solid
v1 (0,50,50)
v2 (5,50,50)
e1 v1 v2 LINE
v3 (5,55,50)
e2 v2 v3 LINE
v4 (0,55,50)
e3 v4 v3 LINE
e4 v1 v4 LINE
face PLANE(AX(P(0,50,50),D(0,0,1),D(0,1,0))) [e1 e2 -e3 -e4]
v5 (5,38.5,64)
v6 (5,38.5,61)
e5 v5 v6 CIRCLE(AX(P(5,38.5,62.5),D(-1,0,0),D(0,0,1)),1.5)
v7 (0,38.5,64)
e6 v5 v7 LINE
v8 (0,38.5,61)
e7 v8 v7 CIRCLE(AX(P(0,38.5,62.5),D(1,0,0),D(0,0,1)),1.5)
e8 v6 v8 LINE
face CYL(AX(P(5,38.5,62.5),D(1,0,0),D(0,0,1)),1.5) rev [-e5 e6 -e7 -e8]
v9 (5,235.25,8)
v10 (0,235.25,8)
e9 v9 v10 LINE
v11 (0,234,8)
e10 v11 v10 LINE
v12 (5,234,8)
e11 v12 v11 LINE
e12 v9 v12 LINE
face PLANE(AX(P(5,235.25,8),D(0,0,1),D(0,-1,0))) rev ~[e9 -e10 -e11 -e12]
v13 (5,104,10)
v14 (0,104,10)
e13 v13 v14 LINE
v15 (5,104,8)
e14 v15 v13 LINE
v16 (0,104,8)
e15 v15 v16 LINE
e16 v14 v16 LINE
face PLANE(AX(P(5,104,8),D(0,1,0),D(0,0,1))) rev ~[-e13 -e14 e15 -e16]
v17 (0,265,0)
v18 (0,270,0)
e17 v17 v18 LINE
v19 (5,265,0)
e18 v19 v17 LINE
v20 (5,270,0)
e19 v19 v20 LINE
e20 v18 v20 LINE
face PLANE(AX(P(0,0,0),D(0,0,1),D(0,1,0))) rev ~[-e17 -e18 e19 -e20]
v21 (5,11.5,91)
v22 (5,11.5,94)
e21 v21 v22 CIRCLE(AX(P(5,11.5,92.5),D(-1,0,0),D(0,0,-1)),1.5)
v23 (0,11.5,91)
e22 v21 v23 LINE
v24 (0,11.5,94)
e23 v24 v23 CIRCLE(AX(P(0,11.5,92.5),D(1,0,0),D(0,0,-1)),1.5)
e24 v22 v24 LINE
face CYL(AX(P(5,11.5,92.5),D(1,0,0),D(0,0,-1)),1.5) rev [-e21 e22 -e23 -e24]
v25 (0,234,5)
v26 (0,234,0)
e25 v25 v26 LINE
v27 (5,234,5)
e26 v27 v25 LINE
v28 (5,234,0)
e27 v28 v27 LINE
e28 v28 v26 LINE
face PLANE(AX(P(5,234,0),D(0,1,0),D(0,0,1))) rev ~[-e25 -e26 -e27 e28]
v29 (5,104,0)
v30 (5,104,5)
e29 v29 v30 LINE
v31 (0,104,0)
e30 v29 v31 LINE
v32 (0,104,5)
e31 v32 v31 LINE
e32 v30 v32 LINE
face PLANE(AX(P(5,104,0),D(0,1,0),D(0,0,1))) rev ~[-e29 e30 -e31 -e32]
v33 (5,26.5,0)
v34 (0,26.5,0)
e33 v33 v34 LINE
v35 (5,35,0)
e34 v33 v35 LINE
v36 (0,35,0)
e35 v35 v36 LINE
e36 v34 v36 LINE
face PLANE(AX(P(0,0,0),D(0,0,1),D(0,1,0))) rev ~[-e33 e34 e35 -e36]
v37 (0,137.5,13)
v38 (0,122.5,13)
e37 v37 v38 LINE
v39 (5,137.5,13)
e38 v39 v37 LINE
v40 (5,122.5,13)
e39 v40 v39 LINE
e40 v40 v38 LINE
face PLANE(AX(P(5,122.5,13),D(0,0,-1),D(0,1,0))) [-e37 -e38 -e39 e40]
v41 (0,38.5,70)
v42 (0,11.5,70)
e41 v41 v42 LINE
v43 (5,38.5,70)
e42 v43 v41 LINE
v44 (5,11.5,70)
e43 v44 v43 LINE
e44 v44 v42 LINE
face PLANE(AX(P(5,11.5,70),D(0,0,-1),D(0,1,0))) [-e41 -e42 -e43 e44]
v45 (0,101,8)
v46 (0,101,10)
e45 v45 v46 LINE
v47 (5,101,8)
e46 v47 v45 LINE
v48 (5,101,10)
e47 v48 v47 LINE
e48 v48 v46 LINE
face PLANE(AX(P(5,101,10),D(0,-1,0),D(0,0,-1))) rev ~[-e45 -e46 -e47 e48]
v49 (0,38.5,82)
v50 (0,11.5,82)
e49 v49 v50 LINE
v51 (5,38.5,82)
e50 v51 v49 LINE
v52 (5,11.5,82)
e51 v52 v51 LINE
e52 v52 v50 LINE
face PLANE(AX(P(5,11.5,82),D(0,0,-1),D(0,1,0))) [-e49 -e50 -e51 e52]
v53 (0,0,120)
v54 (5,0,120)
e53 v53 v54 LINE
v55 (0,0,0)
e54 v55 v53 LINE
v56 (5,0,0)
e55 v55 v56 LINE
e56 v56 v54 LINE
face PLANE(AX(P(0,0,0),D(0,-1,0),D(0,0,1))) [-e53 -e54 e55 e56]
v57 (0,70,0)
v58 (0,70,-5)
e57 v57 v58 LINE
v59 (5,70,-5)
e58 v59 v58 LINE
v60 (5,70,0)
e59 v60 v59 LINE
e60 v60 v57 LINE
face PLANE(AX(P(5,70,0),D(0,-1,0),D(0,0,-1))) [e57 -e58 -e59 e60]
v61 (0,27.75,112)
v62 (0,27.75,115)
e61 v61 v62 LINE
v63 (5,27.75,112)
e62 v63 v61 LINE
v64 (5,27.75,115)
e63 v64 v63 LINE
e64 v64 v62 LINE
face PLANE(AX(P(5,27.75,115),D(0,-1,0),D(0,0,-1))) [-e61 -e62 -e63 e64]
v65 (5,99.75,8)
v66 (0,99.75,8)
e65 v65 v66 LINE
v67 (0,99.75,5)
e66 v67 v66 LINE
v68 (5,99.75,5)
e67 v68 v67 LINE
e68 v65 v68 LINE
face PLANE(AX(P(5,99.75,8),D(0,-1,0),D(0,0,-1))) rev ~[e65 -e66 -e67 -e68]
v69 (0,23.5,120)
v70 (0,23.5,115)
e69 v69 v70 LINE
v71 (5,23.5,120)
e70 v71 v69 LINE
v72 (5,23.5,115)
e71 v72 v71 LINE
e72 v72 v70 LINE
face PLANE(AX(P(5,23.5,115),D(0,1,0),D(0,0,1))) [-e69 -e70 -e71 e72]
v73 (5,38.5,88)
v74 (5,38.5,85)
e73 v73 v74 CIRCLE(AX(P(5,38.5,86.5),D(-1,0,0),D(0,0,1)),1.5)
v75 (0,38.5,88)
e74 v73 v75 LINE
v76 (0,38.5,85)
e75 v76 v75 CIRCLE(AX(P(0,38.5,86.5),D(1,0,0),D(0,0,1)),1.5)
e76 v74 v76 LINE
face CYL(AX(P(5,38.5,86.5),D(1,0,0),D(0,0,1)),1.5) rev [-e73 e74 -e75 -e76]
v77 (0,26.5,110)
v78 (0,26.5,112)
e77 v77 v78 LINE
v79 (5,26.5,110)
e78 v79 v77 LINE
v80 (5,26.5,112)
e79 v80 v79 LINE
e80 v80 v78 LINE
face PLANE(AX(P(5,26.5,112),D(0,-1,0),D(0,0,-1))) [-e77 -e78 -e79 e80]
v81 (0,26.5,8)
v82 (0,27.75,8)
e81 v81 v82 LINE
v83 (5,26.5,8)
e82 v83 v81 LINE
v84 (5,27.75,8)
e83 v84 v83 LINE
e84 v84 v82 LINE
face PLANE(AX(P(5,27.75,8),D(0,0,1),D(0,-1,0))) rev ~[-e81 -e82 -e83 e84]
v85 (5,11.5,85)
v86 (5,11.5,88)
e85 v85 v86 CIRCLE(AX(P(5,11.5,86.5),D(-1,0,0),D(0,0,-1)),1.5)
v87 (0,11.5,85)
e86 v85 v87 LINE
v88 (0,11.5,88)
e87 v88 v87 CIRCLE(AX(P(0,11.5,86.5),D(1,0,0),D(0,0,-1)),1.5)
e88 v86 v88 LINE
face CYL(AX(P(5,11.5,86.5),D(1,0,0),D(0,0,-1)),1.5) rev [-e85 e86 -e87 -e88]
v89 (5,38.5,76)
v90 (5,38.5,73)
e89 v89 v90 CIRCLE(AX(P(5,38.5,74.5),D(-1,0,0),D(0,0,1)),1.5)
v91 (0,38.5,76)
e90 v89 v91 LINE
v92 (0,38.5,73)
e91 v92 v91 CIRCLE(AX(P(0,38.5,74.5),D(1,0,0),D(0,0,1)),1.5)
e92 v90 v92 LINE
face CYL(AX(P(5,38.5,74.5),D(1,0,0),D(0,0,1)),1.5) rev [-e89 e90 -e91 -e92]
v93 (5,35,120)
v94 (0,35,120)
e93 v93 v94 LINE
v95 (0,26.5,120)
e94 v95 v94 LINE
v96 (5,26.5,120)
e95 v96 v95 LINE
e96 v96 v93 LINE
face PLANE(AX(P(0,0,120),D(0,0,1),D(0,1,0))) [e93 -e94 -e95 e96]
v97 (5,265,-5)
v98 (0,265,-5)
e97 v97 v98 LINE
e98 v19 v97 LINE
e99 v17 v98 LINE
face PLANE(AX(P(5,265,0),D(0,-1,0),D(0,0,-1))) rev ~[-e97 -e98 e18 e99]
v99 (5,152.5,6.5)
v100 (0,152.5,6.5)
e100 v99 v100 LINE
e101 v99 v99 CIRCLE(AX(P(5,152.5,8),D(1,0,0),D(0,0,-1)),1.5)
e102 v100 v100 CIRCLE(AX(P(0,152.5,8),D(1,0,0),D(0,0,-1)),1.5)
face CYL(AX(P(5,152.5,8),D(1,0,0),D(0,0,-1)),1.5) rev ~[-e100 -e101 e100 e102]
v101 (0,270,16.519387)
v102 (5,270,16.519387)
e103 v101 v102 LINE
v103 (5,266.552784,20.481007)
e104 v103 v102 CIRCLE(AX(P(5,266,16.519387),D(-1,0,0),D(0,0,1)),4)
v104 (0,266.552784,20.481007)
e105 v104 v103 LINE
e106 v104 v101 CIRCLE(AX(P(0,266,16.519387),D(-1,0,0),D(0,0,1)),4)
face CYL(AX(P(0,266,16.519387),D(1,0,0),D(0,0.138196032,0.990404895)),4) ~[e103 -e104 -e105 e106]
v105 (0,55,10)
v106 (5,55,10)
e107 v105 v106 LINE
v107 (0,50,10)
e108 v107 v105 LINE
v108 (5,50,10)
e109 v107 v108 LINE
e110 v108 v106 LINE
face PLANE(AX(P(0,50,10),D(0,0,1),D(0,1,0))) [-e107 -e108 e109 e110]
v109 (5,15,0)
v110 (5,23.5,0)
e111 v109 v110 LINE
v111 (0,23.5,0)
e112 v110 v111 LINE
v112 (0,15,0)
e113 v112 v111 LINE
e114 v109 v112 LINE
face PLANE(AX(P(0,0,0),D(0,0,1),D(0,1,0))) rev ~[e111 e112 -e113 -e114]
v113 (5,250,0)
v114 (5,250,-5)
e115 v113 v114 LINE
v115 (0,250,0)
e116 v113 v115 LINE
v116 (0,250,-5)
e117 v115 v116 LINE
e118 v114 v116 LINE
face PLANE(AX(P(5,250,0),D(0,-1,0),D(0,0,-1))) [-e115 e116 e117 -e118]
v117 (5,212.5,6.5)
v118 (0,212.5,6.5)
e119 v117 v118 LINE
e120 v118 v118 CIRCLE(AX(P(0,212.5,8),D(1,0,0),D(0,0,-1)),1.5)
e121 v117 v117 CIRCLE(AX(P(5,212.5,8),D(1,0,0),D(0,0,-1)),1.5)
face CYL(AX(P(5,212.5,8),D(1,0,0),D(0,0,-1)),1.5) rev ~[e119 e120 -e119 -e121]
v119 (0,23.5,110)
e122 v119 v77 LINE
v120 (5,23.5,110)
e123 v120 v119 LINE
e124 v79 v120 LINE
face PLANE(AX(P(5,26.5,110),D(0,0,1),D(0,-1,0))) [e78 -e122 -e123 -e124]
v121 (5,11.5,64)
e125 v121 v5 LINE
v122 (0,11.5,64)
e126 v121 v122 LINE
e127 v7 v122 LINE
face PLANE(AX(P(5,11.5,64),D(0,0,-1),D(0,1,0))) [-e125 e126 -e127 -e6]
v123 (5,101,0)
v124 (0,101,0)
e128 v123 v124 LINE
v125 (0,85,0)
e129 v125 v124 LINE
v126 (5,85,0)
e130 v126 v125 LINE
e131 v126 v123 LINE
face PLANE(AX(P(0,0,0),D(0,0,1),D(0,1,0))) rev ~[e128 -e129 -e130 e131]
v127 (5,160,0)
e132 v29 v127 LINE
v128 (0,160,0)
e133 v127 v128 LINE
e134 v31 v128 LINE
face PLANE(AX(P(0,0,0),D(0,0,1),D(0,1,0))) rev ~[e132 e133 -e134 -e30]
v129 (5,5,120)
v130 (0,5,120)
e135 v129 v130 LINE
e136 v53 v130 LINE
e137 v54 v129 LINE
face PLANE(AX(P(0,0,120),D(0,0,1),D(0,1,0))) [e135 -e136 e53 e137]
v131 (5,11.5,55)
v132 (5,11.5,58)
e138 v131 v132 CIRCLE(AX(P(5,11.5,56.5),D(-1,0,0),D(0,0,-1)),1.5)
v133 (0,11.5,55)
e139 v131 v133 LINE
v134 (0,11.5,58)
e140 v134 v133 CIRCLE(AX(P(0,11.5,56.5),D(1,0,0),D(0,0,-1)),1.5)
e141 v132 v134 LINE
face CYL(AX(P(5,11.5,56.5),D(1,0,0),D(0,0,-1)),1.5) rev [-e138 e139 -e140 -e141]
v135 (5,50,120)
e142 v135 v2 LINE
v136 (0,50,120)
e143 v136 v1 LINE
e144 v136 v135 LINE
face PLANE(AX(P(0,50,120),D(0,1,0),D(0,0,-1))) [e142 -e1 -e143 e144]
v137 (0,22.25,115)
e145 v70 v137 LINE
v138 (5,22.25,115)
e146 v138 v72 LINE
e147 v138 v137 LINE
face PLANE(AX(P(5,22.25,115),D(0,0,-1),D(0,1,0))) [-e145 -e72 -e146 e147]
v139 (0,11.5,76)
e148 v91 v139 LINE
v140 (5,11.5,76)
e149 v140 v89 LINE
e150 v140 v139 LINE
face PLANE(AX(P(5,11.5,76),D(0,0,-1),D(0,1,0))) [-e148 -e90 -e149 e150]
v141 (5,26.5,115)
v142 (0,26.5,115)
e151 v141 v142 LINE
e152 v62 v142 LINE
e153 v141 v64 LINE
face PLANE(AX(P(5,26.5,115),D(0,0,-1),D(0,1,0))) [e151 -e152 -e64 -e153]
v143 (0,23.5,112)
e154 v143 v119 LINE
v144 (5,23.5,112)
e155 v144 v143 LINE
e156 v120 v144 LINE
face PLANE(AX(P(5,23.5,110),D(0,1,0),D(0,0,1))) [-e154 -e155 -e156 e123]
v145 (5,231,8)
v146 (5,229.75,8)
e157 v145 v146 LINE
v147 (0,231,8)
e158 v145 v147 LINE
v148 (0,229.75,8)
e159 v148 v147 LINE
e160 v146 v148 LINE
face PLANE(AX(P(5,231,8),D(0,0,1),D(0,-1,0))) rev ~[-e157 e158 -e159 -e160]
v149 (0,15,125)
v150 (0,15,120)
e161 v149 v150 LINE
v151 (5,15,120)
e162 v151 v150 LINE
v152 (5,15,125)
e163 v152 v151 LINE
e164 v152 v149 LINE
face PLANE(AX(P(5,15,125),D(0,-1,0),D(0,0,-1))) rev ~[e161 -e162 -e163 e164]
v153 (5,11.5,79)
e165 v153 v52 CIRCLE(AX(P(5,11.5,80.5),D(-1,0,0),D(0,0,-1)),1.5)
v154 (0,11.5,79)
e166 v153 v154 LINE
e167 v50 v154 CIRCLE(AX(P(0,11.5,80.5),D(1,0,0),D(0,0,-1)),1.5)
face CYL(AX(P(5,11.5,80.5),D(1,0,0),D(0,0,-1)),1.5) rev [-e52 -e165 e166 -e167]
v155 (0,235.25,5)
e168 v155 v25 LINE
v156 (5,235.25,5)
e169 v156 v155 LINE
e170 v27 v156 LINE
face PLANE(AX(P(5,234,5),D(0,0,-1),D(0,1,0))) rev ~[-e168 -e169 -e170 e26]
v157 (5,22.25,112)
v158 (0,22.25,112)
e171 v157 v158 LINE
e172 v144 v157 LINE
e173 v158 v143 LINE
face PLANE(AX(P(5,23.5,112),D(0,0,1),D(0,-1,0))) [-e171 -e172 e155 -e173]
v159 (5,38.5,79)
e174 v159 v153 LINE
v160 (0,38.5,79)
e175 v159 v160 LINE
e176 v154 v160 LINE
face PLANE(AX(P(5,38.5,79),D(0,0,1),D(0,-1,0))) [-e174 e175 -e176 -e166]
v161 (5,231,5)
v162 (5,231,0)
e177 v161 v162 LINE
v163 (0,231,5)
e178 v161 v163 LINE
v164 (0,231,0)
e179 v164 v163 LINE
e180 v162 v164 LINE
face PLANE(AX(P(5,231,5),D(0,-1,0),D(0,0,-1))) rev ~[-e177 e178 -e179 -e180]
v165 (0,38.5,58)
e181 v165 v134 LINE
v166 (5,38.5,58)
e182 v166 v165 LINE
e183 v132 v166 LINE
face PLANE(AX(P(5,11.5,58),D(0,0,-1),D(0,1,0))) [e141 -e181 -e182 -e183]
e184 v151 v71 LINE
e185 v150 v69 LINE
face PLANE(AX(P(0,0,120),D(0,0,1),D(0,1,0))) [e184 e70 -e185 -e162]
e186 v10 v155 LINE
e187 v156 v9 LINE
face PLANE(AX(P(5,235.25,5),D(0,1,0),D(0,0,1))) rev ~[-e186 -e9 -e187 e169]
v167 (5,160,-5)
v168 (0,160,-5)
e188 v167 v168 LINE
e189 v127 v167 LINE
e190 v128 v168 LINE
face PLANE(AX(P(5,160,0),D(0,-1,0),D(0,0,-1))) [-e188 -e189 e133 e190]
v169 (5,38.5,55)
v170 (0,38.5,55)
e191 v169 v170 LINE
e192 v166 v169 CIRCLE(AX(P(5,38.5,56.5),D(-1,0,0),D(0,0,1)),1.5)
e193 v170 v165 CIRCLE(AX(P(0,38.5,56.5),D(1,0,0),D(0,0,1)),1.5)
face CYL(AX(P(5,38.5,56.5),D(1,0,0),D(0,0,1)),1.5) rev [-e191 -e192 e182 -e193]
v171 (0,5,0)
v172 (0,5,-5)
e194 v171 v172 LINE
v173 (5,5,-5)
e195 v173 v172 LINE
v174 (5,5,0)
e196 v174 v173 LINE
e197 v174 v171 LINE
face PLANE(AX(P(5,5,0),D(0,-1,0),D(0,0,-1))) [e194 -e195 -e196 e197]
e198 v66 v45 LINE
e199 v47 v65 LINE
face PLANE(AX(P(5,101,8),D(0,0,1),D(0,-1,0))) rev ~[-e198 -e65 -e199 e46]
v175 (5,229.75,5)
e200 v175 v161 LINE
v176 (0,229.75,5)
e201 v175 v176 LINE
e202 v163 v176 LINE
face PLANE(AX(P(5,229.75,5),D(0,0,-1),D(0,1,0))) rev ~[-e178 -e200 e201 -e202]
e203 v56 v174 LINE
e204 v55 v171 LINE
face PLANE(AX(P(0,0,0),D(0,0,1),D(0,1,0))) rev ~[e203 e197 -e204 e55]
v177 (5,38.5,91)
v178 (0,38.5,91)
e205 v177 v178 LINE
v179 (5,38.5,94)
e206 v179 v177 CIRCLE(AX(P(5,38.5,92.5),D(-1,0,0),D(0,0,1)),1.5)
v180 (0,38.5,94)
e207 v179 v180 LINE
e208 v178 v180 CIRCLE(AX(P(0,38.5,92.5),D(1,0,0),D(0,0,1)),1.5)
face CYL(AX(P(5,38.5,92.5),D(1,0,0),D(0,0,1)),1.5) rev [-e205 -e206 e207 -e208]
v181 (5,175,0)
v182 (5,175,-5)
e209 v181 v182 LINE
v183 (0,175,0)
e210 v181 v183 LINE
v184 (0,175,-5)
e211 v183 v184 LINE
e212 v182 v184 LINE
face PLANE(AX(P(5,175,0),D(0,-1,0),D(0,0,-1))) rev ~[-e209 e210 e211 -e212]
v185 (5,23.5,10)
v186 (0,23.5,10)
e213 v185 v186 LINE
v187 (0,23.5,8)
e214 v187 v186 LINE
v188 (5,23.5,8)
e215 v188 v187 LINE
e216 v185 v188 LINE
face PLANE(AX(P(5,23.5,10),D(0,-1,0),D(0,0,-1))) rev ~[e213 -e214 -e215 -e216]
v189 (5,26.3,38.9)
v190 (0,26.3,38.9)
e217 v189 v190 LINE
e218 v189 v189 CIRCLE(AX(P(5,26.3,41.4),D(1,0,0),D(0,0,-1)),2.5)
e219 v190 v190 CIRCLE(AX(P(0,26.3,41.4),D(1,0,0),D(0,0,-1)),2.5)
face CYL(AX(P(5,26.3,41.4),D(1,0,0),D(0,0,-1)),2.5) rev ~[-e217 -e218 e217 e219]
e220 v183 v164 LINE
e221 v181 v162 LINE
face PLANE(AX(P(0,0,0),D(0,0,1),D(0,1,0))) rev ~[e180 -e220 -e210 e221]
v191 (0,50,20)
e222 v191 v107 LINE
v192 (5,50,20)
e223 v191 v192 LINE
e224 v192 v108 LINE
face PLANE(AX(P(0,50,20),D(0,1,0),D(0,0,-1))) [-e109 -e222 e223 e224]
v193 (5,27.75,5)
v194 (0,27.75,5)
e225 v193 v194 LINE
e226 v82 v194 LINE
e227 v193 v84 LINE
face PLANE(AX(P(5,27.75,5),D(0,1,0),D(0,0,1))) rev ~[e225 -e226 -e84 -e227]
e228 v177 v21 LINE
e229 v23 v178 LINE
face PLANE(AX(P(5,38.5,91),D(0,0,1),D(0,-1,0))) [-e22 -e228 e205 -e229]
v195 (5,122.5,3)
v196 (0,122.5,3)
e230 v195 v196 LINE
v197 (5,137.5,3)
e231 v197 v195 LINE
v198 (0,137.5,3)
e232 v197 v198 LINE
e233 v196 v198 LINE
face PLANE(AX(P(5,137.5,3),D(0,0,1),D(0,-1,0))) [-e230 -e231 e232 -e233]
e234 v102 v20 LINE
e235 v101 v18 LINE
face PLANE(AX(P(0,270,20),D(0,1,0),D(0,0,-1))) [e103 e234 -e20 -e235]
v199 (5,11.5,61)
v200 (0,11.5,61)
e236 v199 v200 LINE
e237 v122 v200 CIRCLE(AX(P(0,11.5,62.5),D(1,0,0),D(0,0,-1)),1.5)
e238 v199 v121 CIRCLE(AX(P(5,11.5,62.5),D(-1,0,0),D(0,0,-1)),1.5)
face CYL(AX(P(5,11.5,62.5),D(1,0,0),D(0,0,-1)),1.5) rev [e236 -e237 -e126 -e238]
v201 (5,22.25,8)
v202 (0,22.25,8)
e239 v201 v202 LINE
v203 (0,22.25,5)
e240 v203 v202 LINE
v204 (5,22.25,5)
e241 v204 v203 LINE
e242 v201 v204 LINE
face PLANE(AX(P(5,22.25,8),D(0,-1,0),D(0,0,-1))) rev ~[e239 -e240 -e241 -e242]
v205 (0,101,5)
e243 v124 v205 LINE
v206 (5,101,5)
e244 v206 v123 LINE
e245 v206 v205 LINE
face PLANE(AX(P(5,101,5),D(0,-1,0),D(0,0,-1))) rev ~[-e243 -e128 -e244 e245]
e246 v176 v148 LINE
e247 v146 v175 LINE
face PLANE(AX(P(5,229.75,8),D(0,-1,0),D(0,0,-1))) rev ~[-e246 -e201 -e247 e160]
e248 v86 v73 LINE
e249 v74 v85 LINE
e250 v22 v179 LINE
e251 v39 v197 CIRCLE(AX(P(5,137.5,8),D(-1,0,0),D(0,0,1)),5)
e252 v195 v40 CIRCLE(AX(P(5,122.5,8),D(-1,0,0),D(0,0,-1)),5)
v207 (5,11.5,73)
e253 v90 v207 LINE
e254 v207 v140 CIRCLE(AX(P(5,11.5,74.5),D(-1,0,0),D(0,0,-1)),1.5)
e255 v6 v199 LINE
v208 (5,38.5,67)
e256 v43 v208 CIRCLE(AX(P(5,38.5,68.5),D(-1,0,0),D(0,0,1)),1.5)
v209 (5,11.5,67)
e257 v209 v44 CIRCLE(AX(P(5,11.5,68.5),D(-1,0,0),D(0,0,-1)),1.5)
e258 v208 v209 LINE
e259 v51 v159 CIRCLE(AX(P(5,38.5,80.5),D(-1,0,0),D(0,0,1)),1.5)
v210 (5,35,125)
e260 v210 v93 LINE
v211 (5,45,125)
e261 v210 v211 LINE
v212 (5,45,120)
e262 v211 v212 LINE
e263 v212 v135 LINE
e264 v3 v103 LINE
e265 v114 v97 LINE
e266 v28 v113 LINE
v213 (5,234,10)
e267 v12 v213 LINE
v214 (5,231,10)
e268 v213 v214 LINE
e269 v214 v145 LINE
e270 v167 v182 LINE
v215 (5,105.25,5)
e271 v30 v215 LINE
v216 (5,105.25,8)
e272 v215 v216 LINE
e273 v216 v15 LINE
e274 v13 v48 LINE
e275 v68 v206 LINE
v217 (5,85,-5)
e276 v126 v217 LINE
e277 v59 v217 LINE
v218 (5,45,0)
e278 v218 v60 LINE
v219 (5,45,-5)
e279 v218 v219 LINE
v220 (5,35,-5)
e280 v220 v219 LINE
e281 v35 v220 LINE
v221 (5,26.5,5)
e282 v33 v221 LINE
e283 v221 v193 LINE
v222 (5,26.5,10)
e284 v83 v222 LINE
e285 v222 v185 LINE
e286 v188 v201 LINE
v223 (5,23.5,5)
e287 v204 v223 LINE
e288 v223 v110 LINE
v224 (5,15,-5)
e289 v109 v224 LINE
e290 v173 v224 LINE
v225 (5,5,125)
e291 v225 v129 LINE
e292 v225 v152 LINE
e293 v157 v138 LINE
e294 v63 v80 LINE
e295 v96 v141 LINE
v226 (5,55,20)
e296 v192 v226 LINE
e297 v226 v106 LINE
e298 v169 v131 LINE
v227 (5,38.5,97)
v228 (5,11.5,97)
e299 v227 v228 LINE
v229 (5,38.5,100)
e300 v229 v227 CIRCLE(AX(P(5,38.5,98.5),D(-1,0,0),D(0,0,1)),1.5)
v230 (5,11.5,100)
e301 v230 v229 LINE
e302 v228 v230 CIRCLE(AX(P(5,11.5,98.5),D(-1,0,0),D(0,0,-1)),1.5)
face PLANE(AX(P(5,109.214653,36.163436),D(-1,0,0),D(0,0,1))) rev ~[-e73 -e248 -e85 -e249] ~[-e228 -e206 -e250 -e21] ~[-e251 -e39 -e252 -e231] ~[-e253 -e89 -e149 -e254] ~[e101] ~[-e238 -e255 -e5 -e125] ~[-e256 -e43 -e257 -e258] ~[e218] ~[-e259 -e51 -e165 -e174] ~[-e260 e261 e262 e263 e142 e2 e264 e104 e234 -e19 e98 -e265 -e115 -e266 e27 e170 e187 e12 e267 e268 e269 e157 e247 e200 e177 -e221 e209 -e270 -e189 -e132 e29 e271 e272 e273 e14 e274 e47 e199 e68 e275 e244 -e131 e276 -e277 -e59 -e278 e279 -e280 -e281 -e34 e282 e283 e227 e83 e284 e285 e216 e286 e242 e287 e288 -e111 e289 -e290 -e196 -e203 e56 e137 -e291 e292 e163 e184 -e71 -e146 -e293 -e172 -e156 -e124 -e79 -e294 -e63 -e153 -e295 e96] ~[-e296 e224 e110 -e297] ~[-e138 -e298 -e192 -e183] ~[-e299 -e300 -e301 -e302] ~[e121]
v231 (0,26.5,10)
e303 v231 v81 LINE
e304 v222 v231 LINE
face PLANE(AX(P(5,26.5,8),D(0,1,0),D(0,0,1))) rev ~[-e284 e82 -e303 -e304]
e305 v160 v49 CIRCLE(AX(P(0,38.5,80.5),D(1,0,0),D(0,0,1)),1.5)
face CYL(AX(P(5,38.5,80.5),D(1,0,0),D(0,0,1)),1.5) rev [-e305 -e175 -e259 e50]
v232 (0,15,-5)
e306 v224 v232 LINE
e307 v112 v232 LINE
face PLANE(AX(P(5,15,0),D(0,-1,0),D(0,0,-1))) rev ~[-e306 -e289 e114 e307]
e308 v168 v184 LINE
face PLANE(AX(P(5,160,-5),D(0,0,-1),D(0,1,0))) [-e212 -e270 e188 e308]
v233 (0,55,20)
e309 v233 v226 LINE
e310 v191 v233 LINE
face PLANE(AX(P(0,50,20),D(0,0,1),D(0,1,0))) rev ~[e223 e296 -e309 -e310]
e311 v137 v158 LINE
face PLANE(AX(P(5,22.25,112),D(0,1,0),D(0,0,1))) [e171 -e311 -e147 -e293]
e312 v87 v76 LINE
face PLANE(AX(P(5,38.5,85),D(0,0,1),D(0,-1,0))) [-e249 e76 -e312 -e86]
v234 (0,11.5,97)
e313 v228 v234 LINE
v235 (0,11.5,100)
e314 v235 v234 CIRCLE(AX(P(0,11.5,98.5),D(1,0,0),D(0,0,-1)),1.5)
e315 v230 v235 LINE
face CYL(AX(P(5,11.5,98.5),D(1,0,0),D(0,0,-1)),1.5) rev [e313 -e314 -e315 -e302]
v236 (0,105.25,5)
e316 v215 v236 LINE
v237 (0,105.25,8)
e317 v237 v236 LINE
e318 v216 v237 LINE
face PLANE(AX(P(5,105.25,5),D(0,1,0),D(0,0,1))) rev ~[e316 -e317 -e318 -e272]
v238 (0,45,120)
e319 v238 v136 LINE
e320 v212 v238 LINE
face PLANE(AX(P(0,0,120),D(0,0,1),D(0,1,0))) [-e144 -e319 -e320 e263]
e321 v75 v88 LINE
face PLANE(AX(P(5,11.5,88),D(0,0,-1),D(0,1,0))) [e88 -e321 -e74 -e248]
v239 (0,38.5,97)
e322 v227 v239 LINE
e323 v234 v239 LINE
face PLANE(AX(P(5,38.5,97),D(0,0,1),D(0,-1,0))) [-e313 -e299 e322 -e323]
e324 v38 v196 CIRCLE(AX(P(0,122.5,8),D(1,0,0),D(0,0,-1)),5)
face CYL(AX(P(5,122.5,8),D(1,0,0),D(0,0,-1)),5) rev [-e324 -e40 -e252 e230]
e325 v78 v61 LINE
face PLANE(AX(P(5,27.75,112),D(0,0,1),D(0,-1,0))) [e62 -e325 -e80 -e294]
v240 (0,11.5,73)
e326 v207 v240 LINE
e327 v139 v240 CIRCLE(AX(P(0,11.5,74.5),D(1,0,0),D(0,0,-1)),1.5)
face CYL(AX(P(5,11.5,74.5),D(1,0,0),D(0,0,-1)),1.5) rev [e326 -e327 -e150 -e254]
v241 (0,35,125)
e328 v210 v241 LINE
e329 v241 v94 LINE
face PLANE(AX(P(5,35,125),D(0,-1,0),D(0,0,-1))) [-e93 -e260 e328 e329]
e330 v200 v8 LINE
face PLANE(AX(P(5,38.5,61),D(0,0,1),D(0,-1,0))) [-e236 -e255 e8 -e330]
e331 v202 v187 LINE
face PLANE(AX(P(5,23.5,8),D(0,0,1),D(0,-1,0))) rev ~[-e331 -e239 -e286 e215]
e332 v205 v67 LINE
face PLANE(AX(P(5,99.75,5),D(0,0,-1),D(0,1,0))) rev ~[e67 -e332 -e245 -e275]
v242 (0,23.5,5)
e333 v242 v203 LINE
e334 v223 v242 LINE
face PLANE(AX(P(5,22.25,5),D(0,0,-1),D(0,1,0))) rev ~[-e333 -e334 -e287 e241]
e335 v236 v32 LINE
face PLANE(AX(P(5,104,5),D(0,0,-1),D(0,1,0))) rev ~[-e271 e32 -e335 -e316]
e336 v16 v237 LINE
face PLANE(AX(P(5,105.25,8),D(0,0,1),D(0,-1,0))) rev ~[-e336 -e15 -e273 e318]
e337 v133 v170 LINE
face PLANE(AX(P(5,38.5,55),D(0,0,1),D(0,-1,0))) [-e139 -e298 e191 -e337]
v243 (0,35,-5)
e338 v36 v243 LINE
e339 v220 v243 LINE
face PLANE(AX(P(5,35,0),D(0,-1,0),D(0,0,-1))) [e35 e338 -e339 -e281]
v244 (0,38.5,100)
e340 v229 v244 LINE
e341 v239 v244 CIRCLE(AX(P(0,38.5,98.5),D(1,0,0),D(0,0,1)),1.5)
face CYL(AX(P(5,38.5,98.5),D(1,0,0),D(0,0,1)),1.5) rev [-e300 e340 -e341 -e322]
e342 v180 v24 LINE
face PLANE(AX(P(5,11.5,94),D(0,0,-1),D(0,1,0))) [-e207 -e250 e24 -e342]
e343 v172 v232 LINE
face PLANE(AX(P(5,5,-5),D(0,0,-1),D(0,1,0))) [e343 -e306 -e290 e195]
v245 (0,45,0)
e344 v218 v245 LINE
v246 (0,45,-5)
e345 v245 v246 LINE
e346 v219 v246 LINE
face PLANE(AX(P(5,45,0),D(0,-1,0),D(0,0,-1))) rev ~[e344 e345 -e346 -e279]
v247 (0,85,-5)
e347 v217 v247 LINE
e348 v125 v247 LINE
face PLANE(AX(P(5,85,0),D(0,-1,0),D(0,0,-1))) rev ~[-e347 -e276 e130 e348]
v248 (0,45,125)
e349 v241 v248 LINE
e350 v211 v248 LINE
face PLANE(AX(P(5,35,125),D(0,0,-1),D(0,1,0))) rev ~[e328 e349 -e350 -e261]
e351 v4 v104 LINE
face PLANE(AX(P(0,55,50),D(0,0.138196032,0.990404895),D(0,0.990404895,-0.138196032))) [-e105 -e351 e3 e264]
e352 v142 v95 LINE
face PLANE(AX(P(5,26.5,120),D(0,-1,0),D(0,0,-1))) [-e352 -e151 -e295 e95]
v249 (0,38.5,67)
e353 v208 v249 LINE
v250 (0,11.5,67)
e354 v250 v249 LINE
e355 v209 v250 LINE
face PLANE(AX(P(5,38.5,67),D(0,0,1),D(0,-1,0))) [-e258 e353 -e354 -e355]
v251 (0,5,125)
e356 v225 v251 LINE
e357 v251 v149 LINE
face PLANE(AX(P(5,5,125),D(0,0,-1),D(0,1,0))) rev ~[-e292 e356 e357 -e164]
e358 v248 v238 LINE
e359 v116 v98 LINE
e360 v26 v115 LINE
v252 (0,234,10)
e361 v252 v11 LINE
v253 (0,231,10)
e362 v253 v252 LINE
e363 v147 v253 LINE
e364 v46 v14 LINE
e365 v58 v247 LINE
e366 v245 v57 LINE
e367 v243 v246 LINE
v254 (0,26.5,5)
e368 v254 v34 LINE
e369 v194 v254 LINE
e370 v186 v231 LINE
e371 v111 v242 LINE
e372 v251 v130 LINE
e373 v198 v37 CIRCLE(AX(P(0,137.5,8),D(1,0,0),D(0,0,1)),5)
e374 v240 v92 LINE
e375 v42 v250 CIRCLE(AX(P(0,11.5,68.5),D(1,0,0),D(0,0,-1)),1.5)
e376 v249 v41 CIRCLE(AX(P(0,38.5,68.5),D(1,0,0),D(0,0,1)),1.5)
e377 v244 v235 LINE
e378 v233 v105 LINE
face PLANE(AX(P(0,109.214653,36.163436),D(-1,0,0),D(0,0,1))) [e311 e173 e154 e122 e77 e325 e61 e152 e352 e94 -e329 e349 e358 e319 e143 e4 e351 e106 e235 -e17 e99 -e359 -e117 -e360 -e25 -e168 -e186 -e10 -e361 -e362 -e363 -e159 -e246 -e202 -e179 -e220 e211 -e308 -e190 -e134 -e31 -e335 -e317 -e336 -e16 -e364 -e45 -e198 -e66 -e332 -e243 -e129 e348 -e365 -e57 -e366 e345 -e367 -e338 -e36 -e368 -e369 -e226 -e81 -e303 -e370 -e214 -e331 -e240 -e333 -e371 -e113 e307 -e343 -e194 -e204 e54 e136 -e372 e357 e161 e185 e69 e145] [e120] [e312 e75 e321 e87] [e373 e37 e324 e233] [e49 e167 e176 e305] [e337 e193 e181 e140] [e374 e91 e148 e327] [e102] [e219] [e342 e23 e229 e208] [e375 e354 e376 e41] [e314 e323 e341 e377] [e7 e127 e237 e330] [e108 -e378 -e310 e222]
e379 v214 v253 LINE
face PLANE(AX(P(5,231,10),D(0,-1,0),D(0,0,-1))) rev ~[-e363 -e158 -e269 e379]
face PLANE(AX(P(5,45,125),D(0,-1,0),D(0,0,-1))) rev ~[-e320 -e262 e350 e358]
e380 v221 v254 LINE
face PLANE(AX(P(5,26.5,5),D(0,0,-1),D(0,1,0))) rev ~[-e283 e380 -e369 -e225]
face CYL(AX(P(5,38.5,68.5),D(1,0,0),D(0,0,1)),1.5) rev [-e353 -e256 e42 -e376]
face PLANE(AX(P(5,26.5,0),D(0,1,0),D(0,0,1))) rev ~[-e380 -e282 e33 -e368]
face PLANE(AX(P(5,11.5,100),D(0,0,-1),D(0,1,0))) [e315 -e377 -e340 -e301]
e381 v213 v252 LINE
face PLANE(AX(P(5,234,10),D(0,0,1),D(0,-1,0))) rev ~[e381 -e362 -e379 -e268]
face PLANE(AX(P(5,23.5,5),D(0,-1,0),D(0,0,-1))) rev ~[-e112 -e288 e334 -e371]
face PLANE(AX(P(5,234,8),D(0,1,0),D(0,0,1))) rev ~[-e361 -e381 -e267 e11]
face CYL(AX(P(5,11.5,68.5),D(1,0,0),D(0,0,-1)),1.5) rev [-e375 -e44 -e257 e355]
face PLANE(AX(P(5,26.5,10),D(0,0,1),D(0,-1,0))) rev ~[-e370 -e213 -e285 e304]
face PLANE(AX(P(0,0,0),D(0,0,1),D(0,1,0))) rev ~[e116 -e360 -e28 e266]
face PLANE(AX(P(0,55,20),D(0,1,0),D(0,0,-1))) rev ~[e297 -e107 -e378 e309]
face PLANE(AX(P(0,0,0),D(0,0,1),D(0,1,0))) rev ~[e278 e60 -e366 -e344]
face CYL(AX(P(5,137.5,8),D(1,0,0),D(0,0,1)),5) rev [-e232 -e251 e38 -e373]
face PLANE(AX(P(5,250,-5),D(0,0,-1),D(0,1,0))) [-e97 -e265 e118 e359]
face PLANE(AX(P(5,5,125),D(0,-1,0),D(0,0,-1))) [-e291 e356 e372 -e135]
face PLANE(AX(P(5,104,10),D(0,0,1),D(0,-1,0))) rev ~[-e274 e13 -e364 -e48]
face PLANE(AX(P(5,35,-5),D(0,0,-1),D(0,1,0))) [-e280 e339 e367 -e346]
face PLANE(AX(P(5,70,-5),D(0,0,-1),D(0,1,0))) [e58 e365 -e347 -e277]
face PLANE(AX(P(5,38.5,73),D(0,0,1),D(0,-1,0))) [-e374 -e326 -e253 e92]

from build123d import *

# Parameters (mm, degrees)
SKETCH1_W           = 10
SKETCH1_H           = 5
BOSS_EXTRUDE1_DEPTH = 5
SKETCH2_W           = 5
SKETCH2_H           = 10
SKETCH2_H_2         = 15
BOSS_EXTRUDE2_DEPTH = 5
SKETCH3_R           = 2.5
SKETCH3_R_2         = 1.5
CUT_EXTRUDE1_DEPTH  = 298.573520327
CUT_EXTRUDE2_DEPTH  = 298.573520327
FILLET1_R           = 4


with BuildPart() as part:
    # Sketch1 → Boss-Extrude1 (new body)
    with BuildSketch(Plane(origin=(0, 0, 0), x_dir=(0, 0, -1), z_dir=(1, 0, 0))):
        Polygon((-50, 50), (-50, 55), (-20, 270), (0, 270), (0, 55), (0, 50), (0, 0), (-120, 0), (-120, 50), align=None)
        with Locations((-15, 52.5)):
            Rectangle(SKETCH1_W, SKETCH1_H, mode=Mode.SUBTRACT)
    extrude(amount=BOSS_EXTRUDE1_DEPTH)

    # Sketch2 → Boss-Extrude2 (add)
    with BuildSketch(Plane(origin=(5, 0, 0), x_dir=(0, 0, -1), z_dir=(1, 0, 0))):
        with Locations((-122.5, 10)):
            Rectangle(SKETCH2_W, SKETCH2_H)
        with Locations((-122.5, 40)):
            Rectangle(SKETCH2_W, SKETCH2_H)
        with Locations((2.5, 257.5)):
            Rectangle(SKETCH2_W, SKETCH2_H_2)
        with Locations((2.5, 77.5)):
            Rectangle(SKETCH2_W, SKETCH2_H_2)
        with Locations((2.5, 40)):
            Rectangle(SKETCH2_W, SKETCH2_H)
        with Locations((2.5, 10)):
            Rectangle(SKETCH2_W, SKETCH2_H)
        with Locations((2.5, 167.5)):
            Rectangle(SKETCH2_W, SKETCH2_H_2)
    extrude(amount=-BOSS_EXTRUDE2_DEPTH)

    # Sketch3 → Cut-Extrude1 (cut, through all)
    with BuildSketch(Plane(origin=(5, 0, 0), x_dir=(0, 0, -1), z_dir=(1, 0, 0))):
        with Locations((-41.4, 26.3)):
            Circle(SKETCH3_R)
        with Locations((-8, 212.5)):
            Circle(SKETCH3_R_2)
        with Locations((-8, 152.5)):
            Circle(SKETCH3_R_2)
        Polygon((0, 26.5), (-5, 26.5), (-5, 27.75), (-8, 27.75), (-8, 26.5), (-10, 26.5), (-10, 23.5), (-8, 23.5), (-8, 22.25), (-5, 22.25), (-5, 23.5), (0, 23.5), align=None)
        Polygon((0, 104), (-5, 104), (-5, 105.25), (-8, 105.25), (-8, 104), (-10, 104), (-10, 101), (-8, 101), (-8, 99.75), (-5, 99.75), (-5, 101), (0, 101), align=None)
        Polygon((0, 234), (-5, 234), (-5, 235.25), (-8, 235.25), (-8, 234), (-10, 234), (-10, 231), (-8, 231), (-8, 229.75), (-5, 229.75), (-5, 231), (0, 231), align=None)
        Polygon((-120, 23.5), (-120, 26.5), (-115, 26.5), (-115, 27.75), (-112, 27.75), (-112, 26.5), (-110, 26.5), (-110, 23.5), (-112, 23.5), (-112, 22.25), (-115, 22.25), (-115, 23.5), align=None)
        with BuildLine():
            Line((-3, 137.5), (-3, 122.5))
            ThreePointArc((-3, 122.5), (-8, 117.5), (-13, 122.5))
            Line((-13, 122.5), (-13, 137.5))
            ThreePointArc((-13, 137.5), (-8, 142.5), (-3, 137.5))
        make_face()
    extrude(amount=-CUT_EXTRUDE1_DEPTH, mode=Mode.SUBTRACT)

    # Sketch4 → Cut-Extrude2 (cut, through all)
    with BuildSketch(Plane(origin=(5, 0, 0), x_dir=(0, 0, -1), z_dir=(1, 0, 0))):
        with BuildLine():
            Line((-97, 38.5), (-97, 11.5))
            ThreePointArc((-97, 11.5), (-98.5, 10), (-100, 11.5))
            Line((-100, 11.5), (-100, 38.5))
            ThreePointArc((-100, 38.5), (-98.5, 40), (-97, 38.5))
        make_face()
        with BuildLine():
            Line((-91, 38.5), (-91, 11.5))
            ThreePointArc((-91, 11.5), (-92.5, 10), (-94, 11.5))
            Line((-94, 11.5), (-94, 38.5))
            ThreePointArc((-94, 38.5), (-92.5, 40), (-91, 38.5))
        make_face()
        with BuildLine():
            Line((-85, 38.5), (-85, 11.5))
            ThreePointArc((-85, 11.5), (-86.5, 10), (-88, 11.5))
            Line((-88, 11.5), (-88, 38.5))
            ThreePointArc((-88, 38.5), (-86.5, 40), (-85, 38.5))
        make_face()
        with BuildLine():
            Line((-79, 38.5), (-79, 11.5))
            ThreePointArc((-79, 11.5), (-80.5, 10), (-82, 11.5))
            Line((-82, 11.5), (-82, 38.5))
            ThreePointArc((-82, 38.5), (-80.5, 40), (-79, 38.5))
        make_face()
        with BuildLine():
            Line((-73, 38.5), (-73, 11.5))
            ThreePointArc((-73, 11.5), (-74.5, 10), (-76, 11.5))
            Line((-76, 11.5), (-76, 38.5))
            ThreePointArc((-76, 38.5), (-74.5, 40), (-73, 38.5))
        make_face()
        with BuildLine():
            Line((-67, 38.5), (-67, 11.5))
            ThreePointArc((-67, 11.5), (-68.5, 10), (-70, 11.5))
            Line((-70, 11.5), (-70, 38.5))
            ThreePointArc((-70, 38.5), (-68.5, 40), (-67, 38.5))
        make_face()
        with BuildLine():
            Line((-61, 38.5), (-61, 11.5))
            ThreePointArc((-61, 11.5), (-62.5, 10), (-64, 11.5))
            Line((-64, 11.5), (-64, 38.5))
            ThreePointArc((-64, 38.5), (-62.5, 40), (-61, 38.5))
        make_face()
        with BuildLine():
            Line((-55, 38.5), (-55, 11.5))
            ThreePointArc((-55, 11.5), (-56.5, 10), (-58, 11.5))
            Line((-58, 11.5), (-58, 38.5))
            ThreePointArc((-58, 38.5), (-56.5, 40), (-55, 38.5))
        make_face()
    extrude(amount=-CUT_EXTRUDE2_DEPTH, mode=Mode.SUBTRACT)

    # Fillet1
    fillet1_edges = [part.edges().sort_by_distance(p)[0] for p in [
        (2.5, 270, 20),
    ]]
    fillet(fillet1_edges, radius=FILLET1_R)


solid = part.part
